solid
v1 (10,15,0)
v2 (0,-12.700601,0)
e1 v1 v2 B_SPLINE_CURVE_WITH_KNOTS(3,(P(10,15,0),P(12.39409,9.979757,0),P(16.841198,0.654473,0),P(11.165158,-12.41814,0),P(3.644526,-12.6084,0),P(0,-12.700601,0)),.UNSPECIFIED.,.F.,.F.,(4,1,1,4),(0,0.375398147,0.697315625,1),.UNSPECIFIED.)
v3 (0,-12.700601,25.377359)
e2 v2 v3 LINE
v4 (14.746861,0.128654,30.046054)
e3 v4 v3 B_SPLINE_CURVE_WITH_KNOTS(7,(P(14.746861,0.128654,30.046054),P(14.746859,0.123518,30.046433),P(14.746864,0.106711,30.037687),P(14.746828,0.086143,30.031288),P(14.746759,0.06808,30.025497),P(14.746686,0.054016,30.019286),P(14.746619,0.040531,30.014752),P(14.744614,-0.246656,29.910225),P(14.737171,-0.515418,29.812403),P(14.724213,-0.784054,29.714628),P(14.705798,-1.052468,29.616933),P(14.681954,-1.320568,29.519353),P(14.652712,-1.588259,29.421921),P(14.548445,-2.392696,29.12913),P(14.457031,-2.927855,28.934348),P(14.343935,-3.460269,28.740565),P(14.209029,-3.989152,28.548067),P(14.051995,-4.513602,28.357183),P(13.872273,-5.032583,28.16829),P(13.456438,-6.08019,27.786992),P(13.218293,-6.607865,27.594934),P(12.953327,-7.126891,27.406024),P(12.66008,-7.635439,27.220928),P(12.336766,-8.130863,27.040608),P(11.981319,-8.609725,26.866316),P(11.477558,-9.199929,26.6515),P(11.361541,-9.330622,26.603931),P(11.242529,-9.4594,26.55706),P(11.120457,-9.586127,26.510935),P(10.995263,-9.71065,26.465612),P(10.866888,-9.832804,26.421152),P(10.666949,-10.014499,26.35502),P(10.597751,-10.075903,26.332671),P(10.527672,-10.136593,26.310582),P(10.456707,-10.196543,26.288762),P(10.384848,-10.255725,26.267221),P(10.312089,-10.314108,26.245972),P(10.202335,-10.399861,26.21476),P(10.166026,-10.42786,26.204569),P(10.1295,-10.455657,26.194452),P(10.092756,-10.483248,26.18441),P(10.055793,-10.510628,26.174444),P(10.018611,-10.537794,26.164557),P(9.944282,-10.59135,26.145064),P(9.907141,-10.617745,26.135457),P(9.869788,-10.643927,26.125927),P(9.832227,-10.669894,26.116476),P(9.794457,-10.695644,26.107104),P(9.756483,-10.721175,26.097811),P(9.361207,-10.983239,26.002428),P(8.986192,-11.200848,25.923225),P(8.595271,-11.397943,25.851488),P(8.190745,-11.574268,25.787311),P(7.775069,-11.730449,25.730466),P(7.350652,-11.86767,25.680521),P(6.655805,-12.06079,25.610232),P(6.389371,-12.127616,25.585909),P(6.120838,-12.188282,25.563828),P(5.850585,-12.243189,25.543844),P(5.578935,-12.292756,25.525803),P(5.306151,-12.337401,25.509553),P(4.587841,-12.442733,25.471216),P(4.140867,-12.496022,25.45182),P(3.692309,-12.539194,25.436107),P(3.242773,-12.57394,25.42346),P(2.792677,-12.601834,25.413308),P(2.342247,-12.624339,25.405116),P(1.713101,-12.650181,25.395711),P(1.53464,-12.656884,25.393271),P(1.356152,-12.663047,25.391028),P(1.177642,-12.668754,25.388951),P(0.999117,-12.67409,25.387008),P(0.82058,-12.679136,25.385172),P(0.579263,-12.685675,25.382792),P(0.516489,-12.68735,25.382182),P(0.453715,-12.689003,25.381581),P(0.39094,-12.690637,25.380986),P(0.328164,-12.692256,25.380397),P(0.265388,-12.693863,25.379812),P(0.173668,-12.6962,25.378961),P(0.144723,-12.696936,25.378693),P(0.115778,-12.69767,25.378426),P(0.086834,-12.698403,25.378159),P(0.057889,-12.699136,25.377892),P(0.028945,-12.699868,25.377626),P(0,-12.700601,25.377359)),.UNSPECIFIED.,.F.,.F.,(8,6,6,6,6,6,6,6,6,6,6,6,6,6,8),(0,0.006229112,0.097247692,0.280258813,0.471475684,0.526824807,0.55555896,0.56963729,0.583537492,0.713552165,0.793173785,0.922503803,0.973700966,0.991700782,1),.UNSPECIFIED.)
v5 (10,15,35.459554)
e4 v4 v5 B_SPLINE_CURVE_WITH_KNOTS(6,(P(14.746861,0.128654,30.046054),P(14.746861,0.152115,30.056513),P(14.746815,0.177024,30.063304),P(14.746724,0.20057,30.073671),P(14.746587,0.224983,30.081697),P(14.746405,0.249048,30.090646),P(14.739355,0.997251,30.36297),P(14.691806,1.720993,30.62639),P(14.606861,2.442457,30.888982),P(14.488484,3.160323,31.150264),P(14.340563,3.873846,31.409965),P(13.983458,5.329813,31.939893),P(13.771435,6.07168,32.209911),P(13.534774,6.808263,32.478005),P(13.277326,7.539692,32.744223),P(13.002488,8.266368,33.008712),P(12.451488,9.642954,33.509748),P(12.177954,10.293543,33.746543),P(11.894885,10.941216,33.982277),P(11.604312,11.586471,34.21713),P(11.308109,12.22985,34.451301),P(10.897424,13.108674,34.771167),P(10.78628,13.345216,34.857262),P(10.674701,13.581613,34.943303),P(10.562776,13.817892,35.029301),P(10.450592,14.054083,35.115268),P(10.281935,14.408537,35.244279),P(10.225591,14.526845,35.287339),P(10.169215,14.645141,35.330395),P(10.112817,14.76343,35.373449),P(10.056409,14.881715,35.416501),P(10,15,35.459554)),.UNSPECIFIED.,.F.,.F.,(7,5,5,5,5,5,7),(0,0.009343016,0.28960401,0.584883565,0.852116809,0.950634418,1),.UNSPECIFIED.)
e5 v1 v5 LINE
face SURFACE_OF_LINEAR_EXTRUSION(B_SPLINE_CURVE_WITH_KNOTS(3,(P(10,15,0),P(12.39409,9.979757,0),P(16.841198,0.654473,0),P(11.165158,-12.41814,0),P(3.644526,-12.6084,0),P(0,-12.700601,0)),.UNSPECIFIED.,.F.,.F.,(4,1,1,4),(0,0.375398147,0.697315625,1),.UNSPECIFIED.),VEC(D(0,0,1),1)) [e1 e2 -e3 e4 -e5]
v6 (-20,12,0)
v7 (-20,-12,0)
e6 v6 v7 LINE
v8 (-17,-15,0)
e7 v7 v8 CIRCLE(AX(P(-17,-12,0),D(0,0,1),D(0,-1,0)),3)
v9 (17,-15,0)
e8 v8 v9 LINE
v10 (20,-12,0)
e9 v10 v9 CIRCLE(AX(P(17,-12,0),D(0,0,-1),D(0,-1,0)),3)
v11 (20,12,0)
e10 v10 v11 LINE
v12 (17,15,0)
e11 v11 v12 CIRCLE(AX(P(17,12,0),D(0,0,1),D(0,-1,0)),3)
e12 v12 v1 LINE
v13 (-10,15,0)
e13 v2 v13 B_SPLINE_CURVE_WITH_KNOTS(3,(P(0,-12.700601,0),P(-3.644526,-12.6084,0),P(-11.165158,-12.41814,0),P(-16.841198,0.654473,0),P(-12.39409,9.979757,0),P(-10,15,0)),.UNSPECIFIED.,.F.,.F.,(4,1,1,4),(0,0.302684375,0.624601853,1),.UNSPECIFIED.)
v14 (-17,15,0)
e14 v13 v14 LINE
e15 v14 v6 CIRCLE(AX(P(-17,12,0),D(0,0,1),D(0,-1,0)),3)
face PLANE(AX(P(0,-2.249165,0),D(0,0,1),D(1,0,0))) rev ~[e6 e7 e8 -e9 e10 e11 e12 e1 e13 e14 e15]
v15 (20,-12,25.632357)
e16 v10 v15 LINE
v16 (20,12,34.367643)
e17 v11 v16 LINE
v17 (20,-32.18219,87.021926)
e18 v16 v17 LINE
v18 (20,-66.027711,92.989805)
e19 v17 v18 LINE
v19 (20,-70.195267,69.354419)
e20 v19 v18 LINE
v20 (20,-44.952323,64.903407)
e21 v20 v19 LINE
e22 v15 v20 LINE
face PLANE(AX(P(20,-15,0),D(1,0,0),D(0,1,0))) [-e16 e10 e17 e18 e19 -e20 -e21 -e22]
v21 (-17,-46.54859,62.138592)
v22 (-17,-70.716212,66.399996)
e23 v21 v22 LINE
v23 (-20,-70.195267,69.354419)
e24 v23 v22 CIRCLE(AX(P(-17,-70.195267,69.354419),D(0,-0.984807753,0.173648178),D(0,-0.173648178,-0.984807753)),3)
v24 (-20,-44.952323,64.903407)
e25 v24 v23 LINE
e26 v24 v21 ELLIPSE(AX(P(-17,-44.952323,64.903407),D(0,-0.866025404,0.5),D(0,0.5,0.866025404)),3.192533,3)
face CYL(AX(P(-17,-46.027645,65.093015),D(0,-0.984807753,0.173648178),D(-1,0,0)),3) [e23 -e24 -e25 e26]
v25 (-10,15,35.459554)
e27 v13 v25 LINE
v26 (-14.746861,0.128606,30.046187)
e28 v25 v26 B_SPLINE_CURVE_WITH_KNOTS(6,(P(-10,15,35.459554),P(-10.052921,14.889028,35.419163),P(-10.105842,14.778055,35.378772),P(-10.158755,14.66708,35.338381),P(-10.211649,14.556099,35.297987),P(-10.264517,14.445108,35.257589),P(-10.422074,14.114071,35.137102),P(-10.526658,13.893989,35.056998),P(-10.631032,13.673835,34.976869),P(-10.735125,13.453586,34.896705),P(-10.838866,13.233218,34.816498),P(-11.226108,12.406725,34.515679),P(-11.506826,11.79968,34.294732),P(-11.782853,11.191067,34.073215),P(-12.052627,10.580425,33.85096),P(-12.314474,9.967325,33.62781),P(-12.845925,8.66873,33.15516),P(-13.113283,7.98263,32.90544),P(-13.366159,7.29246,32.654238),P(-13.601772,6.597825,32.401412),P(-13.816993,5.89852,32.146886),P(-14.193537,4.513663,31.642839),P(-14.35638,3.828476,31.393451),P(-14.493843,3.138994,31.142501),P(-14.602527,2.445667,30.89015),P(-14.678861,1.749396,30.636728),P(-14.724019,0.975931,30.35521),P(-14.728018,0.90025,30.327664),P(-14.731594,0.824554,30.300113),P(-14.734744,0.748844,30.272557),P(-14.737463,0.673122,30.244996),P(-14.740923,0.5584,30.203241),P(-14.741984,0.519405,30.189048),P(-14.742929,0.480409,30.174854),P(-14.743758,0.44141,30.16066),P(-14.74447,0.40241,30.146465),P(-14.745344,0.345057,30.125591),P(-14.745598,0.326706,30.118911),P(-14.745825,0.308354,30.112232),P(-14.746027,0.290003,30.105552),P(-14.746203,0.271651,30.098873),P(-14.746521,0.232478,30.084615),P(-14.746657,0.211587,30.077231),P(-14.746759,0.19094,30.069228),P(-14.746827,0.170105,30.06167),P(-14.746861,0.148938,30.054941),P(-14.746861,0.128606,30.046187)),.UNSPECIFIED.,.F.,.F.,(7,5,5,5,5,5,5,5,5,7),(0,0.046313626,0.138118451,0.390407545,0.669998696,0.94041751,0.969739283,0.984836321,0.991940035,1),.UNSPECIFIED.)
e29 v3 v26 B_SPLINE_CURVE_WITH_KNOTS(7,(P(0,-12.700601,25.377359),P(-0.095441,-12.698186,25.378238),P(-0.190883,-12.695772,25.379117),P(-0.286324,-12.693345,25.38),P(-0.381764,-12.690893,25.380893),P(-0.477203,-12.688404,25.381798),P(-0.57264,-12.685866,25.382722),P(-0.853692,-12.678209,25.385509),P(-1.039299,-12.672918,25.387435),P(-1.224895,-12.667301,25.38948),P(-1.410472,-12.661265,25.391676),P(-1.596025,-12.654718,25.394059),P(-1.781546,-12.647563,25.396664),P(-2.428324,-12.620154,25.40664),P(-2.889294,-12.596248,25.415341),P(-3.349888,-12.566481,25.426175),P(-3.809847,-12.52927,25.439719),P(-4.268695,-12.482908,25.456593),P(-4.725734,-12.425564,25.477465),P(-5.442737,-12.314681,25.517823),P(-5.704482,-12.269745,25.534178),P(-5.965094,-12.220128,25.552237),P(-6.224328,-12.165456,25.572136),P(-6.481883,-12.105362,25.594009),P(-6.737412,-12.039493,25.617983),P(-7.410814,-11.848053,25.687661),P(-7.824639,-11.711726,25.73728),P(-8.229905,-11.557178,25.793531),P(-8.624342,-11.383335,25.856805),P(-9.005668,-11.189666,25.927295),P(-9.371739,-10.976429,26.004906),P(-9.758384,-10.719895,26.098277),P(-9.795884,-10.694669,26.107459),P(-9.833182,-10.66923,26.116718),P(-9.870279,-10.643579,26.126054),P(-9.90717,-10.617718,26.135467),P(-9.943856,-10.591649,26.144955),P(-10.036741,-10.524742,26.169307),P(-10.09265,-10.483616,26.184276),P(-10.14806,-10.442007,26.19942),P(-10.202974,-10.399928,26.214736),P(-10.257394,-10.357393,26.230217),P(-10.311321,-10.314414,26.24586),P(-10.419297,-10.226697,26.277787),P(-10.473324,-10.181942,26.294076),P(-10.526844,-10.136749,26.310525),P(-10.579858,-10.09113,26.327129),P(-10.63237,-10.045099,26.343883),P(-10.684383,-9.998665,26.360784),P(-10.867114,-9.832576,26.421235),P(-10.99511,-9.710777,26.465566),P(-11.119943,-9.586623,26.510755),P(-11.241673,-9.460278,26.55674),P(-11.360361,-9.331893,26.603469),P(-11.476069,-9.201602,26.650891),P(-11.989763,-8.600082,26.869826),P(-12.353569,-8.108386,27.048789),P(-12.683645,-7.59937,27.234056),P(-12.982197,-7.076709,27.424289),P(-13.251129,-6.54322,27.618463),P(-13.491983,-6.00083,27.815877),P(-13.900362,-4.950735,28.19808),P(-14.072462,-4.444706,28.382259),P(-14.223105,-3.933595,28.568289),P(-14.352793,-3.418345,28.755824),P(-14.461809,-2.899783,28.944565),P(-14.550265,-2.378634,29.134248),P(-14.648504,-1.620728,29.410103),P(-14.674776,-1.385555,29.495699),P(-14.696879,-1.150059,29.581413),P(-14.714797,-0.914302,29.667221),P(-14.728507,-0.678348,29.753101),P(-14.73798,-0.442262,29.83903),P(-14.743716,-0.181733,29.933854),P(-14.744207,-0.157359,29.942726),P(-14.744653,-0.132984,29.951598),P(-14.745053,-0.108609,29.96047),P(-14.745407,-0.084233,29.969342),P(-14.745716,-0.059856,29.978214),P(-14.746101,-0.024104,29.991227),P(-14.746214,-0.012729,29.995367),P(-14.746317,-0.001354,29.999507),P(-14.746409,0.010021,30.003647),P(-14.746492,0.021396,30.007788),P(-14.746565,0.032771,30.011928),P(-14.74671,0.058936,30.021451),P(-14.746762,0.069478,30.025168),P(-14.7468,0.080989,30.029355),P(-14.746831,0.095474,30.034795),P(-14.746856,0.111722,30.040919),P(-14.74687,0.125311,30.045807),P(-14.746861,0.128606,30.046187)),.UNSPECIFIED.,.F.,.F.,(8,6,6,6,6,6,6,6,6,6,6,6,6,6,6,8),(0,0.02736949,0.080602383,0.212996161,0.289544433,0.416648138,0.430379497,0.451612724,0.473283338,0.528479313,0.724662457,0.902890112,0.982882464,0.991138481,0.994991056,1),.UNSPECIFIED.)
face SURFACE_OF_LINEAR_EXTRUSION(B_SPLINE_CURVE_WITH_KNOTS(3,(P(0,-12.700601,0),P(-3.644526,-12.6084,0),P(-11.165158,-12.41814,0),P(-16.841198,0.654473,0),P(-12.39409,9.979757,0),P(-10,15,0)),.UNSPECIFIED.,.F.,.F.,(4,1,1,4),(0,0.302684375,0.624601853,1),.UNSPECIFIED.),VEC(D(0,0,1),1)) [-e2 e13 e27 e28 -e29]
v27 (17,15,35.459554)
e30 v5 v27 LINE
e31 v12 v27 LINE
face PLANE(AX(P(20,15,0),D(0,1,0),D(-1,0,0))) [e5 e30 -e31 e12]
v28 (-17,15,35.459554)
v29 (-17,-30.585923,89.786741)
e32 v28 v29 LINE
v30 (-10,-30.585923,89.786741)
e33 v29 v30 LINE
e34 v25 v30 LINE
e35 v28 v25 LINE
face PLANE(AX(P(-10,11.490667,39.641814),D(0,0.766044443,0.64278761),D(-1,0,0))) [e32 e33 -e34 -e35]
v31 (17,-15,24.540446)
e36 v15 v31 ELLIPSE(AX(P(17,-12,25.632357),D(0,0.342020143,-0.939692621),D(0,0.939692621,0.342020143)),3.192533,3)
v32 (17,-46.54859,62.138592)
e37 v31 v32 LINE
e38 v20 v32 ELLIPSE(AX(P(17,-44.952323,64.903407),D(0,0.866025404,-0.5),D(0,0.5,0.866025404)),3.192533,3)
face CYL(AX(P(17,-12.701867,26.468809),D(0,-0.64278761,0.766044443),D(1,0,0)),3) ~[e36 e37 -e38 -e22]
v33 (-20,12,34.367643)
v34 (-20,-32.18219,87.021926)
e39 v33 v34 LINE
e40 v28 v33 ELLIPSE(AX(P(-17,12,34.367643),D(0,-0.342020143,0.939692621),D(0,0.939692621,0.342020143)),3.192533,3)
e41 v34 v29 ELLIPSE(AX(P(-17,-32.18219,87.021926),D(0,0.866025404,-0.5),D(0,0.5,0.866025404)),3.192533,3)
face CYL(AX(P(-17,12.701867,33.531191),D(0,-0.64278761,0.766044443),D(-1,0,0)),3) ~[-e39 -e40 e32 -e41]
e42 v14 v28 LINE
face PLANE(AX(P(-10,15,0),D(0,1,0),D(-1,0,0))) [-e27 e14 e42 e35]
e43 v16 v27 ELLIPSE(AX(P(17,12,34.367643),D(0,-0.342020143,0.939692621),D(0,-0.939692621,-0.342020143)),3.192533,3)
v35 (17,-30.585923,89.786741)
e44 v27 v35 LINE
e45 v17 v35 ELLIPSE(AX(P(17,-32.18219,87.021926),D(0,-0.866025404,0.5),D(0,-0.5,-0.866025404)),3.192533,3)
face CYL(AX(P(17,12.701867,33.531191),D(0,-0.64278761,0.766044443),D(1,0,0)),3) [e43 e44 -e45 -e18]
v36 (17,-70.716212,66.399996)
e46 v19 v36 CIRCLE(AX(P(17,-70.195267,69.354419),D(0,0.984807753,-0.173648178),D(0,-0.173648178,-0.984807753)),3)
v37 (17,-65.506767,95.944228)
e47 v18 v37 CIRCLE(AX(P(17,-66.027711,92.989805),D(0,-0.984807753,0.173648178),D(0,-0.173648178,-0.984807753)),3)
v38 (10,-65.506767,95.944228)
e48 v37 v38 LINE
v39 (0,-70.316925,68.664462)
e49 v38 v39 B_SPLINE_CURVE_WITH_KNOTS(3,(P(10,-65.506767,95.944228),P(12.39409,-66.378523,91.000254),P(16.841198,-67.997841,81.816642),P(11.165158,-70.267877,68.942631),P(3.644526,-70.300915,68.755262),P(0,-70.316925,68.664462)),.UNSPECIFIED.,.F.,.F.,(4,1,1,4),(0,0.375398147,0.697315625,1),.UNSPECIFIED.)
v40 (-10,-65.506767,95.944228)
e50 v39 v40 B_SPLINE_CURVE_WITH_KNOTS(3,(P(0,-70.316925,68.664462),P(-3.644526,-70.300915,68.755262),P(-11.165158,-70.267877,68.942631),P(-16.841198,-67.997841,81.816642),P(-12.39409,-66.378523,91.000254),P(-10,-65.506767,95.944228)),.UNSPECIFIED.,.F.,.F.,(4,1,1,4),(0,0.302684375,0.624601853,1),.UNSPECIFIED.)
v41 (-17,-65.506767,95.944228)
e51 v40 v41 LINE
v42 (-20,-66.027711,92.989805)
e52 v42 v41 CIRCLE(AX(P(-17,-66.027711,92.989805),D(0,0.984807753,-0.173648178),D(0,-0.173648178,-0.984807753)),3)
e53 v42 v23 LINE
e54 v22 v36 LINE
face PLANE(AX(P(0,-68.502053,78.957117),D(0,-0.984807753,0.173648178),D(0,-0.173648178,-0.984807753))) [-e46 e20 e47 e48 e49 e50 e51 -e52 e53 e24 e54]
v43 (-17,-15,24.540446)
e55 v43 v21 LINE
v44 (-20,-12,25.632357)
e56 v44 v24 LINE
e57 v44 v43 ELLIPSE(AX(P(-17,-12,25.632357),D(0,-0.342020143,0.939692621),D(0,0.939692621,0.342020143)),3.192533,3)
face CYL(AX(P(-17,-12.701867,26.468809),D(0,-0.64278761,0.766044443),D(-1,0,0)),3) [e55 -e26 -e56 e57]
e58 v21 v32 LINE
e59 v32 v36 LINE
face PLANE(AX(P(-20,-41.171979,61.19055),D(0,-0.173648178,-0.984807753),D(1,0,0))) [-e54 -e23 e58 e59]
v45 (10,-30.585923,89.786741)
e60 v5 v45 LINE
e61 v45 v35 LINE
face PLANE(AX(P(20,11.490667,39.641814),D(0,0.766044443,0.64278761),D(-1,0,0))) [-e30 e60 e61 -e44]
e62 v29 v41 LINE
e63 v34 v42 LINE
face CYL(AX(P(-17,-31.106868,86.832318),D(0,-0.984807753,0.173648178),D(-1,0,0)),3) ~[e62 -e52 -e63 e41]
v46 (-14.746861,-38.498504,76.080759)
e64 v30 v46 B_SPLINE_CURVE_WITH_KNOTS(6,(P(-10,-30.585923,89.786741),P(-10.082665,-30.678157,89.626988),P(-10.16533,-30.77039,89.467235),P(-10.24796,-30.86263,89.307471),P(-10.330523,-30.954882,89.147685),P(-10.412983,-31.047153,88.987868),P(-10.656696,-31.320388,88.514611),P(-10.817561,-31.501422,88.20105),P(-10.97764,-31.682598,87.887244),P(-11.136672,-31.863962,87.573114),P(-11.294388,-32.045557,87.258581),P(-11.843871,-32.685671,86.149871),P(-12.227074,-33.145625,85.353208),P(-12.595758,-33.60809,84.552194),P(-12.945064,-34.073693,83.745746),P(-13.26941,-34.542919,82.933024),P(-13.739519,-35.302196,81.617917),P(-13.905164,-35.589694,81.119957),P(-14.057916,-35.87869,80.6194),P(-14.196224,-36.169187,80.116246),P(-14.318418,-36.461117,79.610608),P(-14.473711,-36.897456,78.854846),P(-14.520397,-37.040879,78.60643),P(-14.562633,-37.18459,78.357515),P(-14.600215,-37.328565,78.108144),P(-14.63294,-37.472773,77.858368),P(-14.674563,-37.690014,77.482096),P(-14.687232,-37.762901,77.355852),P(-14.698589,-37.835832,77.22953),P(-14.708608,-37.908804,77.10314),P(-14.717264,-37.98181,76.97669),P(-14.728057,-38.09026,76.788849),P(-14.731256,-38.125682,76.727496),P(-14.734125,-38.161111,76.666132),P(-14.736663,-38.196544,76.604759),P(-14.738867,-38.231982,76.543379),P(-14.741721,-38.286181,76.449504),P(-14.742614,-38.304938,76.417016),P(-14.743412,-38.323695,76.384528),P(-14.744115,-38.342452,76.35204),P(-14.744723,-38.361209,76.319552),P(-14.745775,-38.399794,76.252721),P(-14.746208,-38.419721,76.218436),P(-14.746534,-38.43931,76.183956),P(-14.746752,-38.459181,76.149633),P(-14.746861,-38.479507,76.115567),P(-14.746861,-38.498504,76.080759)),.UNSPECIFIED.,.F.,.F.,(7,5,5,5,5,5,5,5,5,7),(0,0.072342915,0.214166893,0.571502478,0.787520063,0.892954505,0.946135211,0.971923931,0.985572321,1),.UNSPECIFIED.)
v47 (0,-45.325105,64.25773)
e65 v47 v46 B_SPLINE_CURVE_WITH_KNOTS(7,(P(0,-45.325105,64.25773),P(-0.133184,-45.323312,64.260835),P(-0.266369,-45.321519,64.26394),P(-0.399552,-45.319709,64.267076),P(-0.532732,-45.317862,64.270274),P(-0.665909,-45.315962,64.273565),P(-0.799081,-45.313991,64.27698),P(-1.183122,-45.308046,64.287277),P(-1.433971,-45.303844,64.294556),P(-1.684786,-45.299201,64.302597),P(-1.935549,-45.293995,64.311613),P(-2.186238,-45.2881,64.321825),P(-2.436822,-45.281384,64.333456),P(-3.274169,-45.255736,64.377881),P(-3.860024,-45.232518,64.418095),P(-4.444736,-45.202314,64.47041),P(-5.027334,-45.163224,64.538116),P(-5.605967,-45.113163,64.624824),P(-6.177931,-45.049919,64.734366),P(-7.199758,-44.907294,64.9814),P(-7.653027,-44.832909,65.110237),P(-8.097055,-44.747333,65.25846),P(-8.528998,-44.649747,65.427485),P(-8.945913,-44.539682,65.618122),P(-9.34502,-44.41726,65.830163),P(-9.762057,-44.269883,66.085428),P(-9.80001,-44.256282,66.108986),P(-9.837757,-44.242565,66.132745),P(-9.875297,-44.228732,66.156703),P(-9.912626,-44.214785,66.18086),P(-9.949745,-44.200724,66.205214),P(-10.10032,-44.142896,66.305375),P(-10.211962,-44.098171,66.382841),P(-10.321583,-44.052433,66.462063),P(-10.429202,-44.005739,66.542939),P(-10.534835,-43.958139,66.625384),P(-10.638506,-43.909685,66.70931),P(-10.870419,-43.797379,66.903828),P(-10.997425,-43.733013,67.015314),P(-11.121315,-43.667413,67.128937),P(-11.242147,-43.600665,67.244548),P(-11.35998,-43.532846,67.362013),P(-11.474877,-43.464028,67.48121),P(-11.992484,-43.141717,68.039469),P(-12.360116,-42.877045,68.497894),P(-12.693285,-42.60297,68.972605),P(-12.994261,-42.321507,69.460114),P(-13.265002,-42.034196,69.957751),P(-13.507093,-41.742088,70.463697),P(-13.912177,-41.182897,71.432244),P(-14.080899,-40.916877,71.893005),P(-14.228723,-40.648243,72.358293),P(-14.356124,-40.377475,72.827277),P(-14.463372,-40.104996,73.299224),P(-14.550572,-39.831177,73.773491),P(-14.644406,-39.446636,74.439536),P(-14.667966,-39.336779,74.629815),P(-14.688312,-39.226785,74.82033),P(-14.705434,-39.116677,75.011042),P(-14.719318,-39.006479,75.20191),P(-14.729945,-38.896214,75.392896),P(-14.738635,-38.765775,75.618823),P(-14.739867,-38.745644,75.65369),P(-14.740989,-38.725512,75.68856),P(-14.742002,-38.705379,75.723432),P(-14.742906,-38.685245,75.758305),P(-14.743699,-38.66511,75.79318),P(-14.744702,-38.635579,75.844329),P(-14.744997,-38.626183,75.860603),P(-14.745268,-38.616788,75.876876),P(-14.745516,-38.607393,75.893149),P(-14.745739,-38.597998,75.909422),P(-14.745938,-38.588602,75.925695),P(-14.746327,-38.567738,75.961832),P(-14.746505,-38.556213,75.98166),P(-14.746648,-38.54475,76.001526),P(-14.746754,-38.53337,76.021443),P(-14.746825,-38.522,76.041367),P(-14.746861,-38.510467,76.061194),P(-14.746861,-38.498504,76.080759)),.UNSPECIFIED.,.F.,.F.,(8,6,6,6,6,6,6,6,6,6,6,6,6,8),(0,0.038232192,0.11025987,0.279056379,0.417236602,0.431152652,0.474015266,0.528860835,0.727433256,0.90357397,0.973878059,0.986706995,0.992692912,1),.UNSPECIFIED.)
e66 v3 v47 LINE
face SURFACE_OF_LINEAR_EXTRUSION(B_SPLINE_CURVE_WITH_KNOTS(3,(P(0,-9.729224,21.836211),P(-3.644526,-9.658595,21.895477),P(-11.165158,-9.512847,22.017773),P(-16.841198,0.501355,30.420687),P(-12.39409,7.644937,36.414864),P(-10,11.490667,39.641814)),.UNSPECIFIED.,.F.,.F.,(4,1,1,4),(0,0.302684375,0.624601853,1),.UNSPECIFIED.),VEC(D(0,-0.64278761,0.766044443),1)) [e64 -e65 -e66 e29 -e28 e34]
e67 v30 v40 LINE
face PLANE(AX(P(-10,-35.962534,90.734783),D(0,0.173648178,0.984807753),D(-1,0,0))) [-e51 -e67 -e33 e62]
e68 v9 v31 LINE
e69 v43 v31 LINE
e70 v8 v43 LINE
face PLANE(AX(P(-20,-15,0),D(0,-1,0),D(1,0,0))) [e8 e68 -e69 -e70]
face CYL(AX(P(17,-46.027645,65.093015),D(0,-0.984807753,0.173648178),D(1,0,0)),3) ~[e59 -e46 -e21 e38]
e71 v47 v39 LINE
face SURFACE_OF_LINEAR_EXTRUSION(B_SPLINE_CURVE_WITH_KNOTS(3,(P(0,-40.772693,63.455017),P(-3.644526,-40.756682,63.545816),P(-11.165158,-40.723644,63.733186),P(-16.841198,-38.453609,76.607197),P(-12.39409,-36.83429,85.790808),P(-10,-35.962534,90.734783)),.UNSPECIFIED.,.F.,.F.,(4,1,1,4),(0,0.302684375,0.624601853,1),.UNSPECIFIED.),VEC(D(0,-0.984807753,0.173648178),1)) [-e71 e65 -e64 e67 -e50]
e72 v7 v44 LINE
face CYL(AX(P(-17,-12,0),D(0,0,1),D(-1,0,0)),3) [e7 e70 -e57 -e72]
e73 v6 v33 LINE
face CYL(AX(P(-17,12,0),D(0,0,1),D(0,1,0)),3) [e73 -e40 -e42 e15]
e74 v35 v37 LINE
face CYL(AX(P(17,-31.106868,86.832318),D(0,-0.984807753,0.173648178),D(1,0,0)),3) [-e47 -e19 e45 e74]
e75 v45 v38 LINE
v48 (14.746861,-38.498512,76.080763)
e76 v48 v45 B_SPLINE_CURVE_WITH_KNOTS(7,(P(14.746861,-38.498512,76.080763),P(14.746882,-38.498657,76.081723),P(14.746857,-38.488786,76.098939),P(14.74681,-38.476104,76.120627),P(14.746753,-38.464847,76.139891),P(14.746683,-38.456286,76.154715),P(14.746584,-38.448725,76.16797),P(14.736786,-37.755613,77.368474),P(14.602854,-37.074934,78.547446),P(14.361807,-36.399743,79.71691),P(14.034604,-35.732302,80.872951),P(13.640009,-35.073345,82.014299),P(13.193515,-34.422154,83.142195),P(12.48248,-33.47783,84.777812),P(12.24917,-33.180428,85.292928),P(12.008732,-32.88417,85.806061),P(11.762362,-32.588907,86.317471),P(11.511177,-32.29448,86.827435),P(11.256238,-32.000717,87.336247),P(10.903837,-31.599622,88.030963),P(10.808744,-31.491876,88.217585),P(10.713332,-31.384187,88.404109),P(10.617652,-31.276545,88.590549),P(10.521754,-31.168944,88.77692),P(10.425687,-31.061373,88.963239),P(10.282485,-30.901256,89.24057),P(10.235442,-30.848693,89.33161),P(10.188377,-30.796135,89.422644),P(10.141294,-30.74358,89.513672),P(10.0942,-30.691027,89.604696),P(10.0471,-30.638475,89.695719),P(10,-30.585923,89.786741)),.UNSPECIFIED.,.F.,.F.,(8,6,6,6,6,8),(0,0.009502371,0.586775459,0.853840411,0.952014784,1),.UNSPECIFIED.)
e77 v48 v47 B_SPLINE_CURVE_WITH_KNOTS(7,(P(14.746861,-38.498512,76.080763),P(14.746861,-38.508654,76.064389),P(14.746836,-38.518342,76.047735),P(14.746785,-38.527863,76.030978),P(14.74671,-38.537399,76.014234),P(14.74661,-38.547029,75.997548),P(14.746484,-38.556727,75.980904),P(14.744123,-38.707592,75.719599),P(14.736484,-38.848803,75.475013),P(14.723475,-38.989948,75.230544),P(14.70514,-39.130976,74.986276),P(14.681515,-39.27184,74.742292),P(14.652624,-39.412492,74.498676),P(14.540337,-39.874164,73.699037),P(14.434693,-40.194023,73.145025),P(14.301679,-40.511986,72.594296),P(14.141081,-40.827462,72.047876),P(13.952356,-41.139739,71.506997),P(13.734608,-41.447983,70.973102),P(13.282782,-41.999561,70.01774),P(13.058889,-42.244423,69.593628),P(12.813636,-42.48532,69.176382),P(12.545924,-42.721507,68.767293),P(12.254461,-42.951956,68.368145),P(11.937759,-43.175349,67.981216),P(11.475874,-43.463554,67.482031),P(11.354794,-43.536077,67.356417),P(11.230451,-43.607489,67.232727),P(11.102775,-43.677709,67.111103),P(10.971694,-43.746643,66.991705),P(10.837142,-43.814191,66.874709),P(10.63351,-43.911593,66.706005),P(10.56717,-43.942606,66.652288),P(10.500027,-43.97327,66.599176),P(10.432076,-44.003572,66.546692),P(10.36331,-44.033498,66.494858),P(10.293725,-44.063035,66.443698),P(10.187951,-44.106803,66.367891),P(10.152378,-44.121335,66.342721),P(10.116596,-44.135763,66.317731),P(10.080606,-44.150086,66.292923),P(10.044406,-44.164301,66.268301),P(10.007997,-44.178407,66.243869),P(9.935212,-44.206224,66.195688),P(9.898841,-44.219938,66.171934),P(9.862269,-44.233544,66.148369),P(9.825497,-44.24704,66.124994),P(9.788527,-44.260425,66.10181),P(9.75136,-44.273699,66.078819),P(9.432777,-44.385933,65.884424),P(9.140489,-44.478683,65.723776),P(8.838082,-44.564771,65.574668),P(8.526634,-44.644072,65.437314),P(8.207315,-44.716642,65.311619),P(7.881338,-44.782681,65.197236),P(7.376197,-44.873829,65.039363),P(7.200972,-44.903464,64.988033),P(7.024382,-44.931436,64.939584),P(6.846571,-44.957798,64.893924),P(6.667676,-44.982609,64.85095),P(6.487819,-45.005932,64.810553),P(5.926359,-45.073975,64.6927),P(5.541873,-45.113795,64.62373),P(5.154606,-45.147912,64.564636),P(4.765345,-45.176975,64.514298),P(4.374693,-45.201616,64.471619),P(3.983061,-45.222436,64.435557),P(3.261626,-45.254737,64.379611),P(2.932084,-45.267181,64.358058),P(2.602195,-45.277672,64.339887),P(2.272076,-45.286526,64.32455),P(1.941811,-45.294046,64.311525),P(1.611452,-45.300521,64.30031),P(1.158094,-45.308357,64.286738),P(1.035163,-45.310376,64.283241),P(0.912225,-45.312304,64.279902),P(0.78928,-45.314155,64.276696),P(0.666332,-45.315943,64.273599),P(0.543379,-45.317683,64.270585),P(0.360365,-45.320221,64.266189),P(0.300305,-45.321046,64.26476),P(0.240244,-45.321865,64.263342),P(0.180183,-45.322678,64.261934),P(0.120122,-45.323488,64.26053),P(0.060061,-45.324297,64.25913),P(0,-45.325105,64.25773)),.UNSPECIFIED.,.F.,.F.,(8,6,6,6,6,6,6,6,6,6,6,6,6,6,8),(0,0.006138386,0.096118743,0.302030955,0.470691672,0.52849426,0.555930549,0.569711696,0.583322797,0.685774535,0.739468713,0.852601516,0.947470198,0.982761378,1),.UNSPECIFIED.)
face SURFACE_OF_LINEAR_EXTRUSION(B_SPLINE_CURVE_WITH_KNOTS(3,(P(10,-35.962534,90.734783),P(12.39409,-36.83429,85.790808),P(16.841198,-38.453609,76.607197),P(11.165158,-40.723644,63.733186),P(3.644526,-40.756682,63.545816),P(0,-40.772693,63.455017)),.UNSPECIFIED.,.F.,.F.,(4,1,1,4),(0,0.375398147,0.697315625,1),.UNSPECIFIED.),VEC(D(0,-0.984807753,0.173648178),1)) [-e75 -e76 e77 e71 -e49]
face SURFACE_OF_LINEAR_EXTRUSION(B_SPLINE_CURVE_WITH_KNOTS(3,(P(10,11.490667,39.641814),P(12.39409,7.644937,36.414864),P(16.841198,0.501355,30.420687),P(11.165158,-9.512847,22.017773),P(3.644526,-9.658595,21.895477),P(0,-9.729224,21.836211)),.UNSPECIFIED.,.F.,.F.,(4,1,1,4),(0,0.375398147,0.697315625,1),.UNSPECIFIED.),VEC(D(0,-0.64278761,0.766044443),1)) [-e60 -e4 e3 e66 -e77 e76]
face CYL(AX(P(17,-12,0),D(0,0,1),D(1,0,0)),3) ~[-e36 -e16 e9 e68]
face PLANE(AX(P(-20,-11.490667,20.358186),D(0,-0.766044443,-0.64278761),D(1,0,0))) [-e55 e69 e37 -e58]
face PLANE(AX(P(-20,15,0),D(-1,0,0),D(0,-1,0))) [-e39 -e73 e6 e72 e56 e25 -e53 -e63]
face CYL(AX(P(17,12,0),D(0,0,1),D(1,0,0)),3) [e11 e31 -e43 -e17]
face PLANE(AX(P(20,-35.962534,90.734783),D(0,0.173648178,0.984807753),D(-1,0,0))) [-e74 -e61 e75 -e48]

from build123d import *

# Parameters (mm, degrees)
F3_R = 3


with BuildPart() as f2:
    # F2: sweep along a path in F1
    with BuildLine(Plane.YZ) as f2_path:
        Line((0, 0), (0, 30))
        Line((0, 30), (-38.5672565812, 75.9626665871))
        Line((-38.5672565812, 75.9626665871), (-68.1114891716, 81.1721119171))
    # F0 (on Top) → F2 (sweep)
    with BuildSketch(Plane.XY):
        with BuildLine():
            Line((20, -15), (20, 15))
            Line((20, 15), (10, 15))
            add(Edge.make_bspline(
                [(10, 15), (12.3940897704, 9.9797566054), (16.8411980376, 0.6544730759), (11.1651576872, -12.4181404175), (3.6445260134, -12.6084000337), (0, -12.7006005496)],
                knots=[0, 0, 0, 0, 0.3753981471, 0.6973156246, 1, 1, 1, 1], degree=3))
            add(Edge.make_bspline(
                [(-10, 15), (-12.3940897704, 9.9797566054), (-16.8411980376, 0.6544730759), (-11.1651576872, -12.4181404175), (-3.6445260134, -12.6084000337), (0, -12.7006005496)],
                knots=[0, 0, 0, 0, 0.3753981471, 0.6973156246, 1, 1, 1, 1], degree=3))
            Line((-10, 15), (-20, 15))
            Line((-20, 15), (-20, -15))
            Line((-20, -15), (20, -15))
        make_face()
    sweep(path=f2_path.line, transition=Transition.RIGHT)

    # F3
    f3_edges = [f2.edges().sort_by_distance(p)[0] for p in [
        (-20, 15, 17.729777),
        (-20, -7.792962, 62.623147),
        (-20, -48.046345, 92.865485),
        (-20, -15, 12.270223),
        (-20, -30.774295, 43.339519),
        (-20, -58.632401, 64.269294),
        (20, -48.046345, 92.865485),
        (20, -7.792962, 62.623147),
        (20, 15, 17.729777),
        (20, -15, 12.270223),
        (20, -30.774295, 43.339519),
        (20, -58.632401, 64.269294),
    ]]
    fillet(f3_edges, radius=F3_R)


solid = f2.part
